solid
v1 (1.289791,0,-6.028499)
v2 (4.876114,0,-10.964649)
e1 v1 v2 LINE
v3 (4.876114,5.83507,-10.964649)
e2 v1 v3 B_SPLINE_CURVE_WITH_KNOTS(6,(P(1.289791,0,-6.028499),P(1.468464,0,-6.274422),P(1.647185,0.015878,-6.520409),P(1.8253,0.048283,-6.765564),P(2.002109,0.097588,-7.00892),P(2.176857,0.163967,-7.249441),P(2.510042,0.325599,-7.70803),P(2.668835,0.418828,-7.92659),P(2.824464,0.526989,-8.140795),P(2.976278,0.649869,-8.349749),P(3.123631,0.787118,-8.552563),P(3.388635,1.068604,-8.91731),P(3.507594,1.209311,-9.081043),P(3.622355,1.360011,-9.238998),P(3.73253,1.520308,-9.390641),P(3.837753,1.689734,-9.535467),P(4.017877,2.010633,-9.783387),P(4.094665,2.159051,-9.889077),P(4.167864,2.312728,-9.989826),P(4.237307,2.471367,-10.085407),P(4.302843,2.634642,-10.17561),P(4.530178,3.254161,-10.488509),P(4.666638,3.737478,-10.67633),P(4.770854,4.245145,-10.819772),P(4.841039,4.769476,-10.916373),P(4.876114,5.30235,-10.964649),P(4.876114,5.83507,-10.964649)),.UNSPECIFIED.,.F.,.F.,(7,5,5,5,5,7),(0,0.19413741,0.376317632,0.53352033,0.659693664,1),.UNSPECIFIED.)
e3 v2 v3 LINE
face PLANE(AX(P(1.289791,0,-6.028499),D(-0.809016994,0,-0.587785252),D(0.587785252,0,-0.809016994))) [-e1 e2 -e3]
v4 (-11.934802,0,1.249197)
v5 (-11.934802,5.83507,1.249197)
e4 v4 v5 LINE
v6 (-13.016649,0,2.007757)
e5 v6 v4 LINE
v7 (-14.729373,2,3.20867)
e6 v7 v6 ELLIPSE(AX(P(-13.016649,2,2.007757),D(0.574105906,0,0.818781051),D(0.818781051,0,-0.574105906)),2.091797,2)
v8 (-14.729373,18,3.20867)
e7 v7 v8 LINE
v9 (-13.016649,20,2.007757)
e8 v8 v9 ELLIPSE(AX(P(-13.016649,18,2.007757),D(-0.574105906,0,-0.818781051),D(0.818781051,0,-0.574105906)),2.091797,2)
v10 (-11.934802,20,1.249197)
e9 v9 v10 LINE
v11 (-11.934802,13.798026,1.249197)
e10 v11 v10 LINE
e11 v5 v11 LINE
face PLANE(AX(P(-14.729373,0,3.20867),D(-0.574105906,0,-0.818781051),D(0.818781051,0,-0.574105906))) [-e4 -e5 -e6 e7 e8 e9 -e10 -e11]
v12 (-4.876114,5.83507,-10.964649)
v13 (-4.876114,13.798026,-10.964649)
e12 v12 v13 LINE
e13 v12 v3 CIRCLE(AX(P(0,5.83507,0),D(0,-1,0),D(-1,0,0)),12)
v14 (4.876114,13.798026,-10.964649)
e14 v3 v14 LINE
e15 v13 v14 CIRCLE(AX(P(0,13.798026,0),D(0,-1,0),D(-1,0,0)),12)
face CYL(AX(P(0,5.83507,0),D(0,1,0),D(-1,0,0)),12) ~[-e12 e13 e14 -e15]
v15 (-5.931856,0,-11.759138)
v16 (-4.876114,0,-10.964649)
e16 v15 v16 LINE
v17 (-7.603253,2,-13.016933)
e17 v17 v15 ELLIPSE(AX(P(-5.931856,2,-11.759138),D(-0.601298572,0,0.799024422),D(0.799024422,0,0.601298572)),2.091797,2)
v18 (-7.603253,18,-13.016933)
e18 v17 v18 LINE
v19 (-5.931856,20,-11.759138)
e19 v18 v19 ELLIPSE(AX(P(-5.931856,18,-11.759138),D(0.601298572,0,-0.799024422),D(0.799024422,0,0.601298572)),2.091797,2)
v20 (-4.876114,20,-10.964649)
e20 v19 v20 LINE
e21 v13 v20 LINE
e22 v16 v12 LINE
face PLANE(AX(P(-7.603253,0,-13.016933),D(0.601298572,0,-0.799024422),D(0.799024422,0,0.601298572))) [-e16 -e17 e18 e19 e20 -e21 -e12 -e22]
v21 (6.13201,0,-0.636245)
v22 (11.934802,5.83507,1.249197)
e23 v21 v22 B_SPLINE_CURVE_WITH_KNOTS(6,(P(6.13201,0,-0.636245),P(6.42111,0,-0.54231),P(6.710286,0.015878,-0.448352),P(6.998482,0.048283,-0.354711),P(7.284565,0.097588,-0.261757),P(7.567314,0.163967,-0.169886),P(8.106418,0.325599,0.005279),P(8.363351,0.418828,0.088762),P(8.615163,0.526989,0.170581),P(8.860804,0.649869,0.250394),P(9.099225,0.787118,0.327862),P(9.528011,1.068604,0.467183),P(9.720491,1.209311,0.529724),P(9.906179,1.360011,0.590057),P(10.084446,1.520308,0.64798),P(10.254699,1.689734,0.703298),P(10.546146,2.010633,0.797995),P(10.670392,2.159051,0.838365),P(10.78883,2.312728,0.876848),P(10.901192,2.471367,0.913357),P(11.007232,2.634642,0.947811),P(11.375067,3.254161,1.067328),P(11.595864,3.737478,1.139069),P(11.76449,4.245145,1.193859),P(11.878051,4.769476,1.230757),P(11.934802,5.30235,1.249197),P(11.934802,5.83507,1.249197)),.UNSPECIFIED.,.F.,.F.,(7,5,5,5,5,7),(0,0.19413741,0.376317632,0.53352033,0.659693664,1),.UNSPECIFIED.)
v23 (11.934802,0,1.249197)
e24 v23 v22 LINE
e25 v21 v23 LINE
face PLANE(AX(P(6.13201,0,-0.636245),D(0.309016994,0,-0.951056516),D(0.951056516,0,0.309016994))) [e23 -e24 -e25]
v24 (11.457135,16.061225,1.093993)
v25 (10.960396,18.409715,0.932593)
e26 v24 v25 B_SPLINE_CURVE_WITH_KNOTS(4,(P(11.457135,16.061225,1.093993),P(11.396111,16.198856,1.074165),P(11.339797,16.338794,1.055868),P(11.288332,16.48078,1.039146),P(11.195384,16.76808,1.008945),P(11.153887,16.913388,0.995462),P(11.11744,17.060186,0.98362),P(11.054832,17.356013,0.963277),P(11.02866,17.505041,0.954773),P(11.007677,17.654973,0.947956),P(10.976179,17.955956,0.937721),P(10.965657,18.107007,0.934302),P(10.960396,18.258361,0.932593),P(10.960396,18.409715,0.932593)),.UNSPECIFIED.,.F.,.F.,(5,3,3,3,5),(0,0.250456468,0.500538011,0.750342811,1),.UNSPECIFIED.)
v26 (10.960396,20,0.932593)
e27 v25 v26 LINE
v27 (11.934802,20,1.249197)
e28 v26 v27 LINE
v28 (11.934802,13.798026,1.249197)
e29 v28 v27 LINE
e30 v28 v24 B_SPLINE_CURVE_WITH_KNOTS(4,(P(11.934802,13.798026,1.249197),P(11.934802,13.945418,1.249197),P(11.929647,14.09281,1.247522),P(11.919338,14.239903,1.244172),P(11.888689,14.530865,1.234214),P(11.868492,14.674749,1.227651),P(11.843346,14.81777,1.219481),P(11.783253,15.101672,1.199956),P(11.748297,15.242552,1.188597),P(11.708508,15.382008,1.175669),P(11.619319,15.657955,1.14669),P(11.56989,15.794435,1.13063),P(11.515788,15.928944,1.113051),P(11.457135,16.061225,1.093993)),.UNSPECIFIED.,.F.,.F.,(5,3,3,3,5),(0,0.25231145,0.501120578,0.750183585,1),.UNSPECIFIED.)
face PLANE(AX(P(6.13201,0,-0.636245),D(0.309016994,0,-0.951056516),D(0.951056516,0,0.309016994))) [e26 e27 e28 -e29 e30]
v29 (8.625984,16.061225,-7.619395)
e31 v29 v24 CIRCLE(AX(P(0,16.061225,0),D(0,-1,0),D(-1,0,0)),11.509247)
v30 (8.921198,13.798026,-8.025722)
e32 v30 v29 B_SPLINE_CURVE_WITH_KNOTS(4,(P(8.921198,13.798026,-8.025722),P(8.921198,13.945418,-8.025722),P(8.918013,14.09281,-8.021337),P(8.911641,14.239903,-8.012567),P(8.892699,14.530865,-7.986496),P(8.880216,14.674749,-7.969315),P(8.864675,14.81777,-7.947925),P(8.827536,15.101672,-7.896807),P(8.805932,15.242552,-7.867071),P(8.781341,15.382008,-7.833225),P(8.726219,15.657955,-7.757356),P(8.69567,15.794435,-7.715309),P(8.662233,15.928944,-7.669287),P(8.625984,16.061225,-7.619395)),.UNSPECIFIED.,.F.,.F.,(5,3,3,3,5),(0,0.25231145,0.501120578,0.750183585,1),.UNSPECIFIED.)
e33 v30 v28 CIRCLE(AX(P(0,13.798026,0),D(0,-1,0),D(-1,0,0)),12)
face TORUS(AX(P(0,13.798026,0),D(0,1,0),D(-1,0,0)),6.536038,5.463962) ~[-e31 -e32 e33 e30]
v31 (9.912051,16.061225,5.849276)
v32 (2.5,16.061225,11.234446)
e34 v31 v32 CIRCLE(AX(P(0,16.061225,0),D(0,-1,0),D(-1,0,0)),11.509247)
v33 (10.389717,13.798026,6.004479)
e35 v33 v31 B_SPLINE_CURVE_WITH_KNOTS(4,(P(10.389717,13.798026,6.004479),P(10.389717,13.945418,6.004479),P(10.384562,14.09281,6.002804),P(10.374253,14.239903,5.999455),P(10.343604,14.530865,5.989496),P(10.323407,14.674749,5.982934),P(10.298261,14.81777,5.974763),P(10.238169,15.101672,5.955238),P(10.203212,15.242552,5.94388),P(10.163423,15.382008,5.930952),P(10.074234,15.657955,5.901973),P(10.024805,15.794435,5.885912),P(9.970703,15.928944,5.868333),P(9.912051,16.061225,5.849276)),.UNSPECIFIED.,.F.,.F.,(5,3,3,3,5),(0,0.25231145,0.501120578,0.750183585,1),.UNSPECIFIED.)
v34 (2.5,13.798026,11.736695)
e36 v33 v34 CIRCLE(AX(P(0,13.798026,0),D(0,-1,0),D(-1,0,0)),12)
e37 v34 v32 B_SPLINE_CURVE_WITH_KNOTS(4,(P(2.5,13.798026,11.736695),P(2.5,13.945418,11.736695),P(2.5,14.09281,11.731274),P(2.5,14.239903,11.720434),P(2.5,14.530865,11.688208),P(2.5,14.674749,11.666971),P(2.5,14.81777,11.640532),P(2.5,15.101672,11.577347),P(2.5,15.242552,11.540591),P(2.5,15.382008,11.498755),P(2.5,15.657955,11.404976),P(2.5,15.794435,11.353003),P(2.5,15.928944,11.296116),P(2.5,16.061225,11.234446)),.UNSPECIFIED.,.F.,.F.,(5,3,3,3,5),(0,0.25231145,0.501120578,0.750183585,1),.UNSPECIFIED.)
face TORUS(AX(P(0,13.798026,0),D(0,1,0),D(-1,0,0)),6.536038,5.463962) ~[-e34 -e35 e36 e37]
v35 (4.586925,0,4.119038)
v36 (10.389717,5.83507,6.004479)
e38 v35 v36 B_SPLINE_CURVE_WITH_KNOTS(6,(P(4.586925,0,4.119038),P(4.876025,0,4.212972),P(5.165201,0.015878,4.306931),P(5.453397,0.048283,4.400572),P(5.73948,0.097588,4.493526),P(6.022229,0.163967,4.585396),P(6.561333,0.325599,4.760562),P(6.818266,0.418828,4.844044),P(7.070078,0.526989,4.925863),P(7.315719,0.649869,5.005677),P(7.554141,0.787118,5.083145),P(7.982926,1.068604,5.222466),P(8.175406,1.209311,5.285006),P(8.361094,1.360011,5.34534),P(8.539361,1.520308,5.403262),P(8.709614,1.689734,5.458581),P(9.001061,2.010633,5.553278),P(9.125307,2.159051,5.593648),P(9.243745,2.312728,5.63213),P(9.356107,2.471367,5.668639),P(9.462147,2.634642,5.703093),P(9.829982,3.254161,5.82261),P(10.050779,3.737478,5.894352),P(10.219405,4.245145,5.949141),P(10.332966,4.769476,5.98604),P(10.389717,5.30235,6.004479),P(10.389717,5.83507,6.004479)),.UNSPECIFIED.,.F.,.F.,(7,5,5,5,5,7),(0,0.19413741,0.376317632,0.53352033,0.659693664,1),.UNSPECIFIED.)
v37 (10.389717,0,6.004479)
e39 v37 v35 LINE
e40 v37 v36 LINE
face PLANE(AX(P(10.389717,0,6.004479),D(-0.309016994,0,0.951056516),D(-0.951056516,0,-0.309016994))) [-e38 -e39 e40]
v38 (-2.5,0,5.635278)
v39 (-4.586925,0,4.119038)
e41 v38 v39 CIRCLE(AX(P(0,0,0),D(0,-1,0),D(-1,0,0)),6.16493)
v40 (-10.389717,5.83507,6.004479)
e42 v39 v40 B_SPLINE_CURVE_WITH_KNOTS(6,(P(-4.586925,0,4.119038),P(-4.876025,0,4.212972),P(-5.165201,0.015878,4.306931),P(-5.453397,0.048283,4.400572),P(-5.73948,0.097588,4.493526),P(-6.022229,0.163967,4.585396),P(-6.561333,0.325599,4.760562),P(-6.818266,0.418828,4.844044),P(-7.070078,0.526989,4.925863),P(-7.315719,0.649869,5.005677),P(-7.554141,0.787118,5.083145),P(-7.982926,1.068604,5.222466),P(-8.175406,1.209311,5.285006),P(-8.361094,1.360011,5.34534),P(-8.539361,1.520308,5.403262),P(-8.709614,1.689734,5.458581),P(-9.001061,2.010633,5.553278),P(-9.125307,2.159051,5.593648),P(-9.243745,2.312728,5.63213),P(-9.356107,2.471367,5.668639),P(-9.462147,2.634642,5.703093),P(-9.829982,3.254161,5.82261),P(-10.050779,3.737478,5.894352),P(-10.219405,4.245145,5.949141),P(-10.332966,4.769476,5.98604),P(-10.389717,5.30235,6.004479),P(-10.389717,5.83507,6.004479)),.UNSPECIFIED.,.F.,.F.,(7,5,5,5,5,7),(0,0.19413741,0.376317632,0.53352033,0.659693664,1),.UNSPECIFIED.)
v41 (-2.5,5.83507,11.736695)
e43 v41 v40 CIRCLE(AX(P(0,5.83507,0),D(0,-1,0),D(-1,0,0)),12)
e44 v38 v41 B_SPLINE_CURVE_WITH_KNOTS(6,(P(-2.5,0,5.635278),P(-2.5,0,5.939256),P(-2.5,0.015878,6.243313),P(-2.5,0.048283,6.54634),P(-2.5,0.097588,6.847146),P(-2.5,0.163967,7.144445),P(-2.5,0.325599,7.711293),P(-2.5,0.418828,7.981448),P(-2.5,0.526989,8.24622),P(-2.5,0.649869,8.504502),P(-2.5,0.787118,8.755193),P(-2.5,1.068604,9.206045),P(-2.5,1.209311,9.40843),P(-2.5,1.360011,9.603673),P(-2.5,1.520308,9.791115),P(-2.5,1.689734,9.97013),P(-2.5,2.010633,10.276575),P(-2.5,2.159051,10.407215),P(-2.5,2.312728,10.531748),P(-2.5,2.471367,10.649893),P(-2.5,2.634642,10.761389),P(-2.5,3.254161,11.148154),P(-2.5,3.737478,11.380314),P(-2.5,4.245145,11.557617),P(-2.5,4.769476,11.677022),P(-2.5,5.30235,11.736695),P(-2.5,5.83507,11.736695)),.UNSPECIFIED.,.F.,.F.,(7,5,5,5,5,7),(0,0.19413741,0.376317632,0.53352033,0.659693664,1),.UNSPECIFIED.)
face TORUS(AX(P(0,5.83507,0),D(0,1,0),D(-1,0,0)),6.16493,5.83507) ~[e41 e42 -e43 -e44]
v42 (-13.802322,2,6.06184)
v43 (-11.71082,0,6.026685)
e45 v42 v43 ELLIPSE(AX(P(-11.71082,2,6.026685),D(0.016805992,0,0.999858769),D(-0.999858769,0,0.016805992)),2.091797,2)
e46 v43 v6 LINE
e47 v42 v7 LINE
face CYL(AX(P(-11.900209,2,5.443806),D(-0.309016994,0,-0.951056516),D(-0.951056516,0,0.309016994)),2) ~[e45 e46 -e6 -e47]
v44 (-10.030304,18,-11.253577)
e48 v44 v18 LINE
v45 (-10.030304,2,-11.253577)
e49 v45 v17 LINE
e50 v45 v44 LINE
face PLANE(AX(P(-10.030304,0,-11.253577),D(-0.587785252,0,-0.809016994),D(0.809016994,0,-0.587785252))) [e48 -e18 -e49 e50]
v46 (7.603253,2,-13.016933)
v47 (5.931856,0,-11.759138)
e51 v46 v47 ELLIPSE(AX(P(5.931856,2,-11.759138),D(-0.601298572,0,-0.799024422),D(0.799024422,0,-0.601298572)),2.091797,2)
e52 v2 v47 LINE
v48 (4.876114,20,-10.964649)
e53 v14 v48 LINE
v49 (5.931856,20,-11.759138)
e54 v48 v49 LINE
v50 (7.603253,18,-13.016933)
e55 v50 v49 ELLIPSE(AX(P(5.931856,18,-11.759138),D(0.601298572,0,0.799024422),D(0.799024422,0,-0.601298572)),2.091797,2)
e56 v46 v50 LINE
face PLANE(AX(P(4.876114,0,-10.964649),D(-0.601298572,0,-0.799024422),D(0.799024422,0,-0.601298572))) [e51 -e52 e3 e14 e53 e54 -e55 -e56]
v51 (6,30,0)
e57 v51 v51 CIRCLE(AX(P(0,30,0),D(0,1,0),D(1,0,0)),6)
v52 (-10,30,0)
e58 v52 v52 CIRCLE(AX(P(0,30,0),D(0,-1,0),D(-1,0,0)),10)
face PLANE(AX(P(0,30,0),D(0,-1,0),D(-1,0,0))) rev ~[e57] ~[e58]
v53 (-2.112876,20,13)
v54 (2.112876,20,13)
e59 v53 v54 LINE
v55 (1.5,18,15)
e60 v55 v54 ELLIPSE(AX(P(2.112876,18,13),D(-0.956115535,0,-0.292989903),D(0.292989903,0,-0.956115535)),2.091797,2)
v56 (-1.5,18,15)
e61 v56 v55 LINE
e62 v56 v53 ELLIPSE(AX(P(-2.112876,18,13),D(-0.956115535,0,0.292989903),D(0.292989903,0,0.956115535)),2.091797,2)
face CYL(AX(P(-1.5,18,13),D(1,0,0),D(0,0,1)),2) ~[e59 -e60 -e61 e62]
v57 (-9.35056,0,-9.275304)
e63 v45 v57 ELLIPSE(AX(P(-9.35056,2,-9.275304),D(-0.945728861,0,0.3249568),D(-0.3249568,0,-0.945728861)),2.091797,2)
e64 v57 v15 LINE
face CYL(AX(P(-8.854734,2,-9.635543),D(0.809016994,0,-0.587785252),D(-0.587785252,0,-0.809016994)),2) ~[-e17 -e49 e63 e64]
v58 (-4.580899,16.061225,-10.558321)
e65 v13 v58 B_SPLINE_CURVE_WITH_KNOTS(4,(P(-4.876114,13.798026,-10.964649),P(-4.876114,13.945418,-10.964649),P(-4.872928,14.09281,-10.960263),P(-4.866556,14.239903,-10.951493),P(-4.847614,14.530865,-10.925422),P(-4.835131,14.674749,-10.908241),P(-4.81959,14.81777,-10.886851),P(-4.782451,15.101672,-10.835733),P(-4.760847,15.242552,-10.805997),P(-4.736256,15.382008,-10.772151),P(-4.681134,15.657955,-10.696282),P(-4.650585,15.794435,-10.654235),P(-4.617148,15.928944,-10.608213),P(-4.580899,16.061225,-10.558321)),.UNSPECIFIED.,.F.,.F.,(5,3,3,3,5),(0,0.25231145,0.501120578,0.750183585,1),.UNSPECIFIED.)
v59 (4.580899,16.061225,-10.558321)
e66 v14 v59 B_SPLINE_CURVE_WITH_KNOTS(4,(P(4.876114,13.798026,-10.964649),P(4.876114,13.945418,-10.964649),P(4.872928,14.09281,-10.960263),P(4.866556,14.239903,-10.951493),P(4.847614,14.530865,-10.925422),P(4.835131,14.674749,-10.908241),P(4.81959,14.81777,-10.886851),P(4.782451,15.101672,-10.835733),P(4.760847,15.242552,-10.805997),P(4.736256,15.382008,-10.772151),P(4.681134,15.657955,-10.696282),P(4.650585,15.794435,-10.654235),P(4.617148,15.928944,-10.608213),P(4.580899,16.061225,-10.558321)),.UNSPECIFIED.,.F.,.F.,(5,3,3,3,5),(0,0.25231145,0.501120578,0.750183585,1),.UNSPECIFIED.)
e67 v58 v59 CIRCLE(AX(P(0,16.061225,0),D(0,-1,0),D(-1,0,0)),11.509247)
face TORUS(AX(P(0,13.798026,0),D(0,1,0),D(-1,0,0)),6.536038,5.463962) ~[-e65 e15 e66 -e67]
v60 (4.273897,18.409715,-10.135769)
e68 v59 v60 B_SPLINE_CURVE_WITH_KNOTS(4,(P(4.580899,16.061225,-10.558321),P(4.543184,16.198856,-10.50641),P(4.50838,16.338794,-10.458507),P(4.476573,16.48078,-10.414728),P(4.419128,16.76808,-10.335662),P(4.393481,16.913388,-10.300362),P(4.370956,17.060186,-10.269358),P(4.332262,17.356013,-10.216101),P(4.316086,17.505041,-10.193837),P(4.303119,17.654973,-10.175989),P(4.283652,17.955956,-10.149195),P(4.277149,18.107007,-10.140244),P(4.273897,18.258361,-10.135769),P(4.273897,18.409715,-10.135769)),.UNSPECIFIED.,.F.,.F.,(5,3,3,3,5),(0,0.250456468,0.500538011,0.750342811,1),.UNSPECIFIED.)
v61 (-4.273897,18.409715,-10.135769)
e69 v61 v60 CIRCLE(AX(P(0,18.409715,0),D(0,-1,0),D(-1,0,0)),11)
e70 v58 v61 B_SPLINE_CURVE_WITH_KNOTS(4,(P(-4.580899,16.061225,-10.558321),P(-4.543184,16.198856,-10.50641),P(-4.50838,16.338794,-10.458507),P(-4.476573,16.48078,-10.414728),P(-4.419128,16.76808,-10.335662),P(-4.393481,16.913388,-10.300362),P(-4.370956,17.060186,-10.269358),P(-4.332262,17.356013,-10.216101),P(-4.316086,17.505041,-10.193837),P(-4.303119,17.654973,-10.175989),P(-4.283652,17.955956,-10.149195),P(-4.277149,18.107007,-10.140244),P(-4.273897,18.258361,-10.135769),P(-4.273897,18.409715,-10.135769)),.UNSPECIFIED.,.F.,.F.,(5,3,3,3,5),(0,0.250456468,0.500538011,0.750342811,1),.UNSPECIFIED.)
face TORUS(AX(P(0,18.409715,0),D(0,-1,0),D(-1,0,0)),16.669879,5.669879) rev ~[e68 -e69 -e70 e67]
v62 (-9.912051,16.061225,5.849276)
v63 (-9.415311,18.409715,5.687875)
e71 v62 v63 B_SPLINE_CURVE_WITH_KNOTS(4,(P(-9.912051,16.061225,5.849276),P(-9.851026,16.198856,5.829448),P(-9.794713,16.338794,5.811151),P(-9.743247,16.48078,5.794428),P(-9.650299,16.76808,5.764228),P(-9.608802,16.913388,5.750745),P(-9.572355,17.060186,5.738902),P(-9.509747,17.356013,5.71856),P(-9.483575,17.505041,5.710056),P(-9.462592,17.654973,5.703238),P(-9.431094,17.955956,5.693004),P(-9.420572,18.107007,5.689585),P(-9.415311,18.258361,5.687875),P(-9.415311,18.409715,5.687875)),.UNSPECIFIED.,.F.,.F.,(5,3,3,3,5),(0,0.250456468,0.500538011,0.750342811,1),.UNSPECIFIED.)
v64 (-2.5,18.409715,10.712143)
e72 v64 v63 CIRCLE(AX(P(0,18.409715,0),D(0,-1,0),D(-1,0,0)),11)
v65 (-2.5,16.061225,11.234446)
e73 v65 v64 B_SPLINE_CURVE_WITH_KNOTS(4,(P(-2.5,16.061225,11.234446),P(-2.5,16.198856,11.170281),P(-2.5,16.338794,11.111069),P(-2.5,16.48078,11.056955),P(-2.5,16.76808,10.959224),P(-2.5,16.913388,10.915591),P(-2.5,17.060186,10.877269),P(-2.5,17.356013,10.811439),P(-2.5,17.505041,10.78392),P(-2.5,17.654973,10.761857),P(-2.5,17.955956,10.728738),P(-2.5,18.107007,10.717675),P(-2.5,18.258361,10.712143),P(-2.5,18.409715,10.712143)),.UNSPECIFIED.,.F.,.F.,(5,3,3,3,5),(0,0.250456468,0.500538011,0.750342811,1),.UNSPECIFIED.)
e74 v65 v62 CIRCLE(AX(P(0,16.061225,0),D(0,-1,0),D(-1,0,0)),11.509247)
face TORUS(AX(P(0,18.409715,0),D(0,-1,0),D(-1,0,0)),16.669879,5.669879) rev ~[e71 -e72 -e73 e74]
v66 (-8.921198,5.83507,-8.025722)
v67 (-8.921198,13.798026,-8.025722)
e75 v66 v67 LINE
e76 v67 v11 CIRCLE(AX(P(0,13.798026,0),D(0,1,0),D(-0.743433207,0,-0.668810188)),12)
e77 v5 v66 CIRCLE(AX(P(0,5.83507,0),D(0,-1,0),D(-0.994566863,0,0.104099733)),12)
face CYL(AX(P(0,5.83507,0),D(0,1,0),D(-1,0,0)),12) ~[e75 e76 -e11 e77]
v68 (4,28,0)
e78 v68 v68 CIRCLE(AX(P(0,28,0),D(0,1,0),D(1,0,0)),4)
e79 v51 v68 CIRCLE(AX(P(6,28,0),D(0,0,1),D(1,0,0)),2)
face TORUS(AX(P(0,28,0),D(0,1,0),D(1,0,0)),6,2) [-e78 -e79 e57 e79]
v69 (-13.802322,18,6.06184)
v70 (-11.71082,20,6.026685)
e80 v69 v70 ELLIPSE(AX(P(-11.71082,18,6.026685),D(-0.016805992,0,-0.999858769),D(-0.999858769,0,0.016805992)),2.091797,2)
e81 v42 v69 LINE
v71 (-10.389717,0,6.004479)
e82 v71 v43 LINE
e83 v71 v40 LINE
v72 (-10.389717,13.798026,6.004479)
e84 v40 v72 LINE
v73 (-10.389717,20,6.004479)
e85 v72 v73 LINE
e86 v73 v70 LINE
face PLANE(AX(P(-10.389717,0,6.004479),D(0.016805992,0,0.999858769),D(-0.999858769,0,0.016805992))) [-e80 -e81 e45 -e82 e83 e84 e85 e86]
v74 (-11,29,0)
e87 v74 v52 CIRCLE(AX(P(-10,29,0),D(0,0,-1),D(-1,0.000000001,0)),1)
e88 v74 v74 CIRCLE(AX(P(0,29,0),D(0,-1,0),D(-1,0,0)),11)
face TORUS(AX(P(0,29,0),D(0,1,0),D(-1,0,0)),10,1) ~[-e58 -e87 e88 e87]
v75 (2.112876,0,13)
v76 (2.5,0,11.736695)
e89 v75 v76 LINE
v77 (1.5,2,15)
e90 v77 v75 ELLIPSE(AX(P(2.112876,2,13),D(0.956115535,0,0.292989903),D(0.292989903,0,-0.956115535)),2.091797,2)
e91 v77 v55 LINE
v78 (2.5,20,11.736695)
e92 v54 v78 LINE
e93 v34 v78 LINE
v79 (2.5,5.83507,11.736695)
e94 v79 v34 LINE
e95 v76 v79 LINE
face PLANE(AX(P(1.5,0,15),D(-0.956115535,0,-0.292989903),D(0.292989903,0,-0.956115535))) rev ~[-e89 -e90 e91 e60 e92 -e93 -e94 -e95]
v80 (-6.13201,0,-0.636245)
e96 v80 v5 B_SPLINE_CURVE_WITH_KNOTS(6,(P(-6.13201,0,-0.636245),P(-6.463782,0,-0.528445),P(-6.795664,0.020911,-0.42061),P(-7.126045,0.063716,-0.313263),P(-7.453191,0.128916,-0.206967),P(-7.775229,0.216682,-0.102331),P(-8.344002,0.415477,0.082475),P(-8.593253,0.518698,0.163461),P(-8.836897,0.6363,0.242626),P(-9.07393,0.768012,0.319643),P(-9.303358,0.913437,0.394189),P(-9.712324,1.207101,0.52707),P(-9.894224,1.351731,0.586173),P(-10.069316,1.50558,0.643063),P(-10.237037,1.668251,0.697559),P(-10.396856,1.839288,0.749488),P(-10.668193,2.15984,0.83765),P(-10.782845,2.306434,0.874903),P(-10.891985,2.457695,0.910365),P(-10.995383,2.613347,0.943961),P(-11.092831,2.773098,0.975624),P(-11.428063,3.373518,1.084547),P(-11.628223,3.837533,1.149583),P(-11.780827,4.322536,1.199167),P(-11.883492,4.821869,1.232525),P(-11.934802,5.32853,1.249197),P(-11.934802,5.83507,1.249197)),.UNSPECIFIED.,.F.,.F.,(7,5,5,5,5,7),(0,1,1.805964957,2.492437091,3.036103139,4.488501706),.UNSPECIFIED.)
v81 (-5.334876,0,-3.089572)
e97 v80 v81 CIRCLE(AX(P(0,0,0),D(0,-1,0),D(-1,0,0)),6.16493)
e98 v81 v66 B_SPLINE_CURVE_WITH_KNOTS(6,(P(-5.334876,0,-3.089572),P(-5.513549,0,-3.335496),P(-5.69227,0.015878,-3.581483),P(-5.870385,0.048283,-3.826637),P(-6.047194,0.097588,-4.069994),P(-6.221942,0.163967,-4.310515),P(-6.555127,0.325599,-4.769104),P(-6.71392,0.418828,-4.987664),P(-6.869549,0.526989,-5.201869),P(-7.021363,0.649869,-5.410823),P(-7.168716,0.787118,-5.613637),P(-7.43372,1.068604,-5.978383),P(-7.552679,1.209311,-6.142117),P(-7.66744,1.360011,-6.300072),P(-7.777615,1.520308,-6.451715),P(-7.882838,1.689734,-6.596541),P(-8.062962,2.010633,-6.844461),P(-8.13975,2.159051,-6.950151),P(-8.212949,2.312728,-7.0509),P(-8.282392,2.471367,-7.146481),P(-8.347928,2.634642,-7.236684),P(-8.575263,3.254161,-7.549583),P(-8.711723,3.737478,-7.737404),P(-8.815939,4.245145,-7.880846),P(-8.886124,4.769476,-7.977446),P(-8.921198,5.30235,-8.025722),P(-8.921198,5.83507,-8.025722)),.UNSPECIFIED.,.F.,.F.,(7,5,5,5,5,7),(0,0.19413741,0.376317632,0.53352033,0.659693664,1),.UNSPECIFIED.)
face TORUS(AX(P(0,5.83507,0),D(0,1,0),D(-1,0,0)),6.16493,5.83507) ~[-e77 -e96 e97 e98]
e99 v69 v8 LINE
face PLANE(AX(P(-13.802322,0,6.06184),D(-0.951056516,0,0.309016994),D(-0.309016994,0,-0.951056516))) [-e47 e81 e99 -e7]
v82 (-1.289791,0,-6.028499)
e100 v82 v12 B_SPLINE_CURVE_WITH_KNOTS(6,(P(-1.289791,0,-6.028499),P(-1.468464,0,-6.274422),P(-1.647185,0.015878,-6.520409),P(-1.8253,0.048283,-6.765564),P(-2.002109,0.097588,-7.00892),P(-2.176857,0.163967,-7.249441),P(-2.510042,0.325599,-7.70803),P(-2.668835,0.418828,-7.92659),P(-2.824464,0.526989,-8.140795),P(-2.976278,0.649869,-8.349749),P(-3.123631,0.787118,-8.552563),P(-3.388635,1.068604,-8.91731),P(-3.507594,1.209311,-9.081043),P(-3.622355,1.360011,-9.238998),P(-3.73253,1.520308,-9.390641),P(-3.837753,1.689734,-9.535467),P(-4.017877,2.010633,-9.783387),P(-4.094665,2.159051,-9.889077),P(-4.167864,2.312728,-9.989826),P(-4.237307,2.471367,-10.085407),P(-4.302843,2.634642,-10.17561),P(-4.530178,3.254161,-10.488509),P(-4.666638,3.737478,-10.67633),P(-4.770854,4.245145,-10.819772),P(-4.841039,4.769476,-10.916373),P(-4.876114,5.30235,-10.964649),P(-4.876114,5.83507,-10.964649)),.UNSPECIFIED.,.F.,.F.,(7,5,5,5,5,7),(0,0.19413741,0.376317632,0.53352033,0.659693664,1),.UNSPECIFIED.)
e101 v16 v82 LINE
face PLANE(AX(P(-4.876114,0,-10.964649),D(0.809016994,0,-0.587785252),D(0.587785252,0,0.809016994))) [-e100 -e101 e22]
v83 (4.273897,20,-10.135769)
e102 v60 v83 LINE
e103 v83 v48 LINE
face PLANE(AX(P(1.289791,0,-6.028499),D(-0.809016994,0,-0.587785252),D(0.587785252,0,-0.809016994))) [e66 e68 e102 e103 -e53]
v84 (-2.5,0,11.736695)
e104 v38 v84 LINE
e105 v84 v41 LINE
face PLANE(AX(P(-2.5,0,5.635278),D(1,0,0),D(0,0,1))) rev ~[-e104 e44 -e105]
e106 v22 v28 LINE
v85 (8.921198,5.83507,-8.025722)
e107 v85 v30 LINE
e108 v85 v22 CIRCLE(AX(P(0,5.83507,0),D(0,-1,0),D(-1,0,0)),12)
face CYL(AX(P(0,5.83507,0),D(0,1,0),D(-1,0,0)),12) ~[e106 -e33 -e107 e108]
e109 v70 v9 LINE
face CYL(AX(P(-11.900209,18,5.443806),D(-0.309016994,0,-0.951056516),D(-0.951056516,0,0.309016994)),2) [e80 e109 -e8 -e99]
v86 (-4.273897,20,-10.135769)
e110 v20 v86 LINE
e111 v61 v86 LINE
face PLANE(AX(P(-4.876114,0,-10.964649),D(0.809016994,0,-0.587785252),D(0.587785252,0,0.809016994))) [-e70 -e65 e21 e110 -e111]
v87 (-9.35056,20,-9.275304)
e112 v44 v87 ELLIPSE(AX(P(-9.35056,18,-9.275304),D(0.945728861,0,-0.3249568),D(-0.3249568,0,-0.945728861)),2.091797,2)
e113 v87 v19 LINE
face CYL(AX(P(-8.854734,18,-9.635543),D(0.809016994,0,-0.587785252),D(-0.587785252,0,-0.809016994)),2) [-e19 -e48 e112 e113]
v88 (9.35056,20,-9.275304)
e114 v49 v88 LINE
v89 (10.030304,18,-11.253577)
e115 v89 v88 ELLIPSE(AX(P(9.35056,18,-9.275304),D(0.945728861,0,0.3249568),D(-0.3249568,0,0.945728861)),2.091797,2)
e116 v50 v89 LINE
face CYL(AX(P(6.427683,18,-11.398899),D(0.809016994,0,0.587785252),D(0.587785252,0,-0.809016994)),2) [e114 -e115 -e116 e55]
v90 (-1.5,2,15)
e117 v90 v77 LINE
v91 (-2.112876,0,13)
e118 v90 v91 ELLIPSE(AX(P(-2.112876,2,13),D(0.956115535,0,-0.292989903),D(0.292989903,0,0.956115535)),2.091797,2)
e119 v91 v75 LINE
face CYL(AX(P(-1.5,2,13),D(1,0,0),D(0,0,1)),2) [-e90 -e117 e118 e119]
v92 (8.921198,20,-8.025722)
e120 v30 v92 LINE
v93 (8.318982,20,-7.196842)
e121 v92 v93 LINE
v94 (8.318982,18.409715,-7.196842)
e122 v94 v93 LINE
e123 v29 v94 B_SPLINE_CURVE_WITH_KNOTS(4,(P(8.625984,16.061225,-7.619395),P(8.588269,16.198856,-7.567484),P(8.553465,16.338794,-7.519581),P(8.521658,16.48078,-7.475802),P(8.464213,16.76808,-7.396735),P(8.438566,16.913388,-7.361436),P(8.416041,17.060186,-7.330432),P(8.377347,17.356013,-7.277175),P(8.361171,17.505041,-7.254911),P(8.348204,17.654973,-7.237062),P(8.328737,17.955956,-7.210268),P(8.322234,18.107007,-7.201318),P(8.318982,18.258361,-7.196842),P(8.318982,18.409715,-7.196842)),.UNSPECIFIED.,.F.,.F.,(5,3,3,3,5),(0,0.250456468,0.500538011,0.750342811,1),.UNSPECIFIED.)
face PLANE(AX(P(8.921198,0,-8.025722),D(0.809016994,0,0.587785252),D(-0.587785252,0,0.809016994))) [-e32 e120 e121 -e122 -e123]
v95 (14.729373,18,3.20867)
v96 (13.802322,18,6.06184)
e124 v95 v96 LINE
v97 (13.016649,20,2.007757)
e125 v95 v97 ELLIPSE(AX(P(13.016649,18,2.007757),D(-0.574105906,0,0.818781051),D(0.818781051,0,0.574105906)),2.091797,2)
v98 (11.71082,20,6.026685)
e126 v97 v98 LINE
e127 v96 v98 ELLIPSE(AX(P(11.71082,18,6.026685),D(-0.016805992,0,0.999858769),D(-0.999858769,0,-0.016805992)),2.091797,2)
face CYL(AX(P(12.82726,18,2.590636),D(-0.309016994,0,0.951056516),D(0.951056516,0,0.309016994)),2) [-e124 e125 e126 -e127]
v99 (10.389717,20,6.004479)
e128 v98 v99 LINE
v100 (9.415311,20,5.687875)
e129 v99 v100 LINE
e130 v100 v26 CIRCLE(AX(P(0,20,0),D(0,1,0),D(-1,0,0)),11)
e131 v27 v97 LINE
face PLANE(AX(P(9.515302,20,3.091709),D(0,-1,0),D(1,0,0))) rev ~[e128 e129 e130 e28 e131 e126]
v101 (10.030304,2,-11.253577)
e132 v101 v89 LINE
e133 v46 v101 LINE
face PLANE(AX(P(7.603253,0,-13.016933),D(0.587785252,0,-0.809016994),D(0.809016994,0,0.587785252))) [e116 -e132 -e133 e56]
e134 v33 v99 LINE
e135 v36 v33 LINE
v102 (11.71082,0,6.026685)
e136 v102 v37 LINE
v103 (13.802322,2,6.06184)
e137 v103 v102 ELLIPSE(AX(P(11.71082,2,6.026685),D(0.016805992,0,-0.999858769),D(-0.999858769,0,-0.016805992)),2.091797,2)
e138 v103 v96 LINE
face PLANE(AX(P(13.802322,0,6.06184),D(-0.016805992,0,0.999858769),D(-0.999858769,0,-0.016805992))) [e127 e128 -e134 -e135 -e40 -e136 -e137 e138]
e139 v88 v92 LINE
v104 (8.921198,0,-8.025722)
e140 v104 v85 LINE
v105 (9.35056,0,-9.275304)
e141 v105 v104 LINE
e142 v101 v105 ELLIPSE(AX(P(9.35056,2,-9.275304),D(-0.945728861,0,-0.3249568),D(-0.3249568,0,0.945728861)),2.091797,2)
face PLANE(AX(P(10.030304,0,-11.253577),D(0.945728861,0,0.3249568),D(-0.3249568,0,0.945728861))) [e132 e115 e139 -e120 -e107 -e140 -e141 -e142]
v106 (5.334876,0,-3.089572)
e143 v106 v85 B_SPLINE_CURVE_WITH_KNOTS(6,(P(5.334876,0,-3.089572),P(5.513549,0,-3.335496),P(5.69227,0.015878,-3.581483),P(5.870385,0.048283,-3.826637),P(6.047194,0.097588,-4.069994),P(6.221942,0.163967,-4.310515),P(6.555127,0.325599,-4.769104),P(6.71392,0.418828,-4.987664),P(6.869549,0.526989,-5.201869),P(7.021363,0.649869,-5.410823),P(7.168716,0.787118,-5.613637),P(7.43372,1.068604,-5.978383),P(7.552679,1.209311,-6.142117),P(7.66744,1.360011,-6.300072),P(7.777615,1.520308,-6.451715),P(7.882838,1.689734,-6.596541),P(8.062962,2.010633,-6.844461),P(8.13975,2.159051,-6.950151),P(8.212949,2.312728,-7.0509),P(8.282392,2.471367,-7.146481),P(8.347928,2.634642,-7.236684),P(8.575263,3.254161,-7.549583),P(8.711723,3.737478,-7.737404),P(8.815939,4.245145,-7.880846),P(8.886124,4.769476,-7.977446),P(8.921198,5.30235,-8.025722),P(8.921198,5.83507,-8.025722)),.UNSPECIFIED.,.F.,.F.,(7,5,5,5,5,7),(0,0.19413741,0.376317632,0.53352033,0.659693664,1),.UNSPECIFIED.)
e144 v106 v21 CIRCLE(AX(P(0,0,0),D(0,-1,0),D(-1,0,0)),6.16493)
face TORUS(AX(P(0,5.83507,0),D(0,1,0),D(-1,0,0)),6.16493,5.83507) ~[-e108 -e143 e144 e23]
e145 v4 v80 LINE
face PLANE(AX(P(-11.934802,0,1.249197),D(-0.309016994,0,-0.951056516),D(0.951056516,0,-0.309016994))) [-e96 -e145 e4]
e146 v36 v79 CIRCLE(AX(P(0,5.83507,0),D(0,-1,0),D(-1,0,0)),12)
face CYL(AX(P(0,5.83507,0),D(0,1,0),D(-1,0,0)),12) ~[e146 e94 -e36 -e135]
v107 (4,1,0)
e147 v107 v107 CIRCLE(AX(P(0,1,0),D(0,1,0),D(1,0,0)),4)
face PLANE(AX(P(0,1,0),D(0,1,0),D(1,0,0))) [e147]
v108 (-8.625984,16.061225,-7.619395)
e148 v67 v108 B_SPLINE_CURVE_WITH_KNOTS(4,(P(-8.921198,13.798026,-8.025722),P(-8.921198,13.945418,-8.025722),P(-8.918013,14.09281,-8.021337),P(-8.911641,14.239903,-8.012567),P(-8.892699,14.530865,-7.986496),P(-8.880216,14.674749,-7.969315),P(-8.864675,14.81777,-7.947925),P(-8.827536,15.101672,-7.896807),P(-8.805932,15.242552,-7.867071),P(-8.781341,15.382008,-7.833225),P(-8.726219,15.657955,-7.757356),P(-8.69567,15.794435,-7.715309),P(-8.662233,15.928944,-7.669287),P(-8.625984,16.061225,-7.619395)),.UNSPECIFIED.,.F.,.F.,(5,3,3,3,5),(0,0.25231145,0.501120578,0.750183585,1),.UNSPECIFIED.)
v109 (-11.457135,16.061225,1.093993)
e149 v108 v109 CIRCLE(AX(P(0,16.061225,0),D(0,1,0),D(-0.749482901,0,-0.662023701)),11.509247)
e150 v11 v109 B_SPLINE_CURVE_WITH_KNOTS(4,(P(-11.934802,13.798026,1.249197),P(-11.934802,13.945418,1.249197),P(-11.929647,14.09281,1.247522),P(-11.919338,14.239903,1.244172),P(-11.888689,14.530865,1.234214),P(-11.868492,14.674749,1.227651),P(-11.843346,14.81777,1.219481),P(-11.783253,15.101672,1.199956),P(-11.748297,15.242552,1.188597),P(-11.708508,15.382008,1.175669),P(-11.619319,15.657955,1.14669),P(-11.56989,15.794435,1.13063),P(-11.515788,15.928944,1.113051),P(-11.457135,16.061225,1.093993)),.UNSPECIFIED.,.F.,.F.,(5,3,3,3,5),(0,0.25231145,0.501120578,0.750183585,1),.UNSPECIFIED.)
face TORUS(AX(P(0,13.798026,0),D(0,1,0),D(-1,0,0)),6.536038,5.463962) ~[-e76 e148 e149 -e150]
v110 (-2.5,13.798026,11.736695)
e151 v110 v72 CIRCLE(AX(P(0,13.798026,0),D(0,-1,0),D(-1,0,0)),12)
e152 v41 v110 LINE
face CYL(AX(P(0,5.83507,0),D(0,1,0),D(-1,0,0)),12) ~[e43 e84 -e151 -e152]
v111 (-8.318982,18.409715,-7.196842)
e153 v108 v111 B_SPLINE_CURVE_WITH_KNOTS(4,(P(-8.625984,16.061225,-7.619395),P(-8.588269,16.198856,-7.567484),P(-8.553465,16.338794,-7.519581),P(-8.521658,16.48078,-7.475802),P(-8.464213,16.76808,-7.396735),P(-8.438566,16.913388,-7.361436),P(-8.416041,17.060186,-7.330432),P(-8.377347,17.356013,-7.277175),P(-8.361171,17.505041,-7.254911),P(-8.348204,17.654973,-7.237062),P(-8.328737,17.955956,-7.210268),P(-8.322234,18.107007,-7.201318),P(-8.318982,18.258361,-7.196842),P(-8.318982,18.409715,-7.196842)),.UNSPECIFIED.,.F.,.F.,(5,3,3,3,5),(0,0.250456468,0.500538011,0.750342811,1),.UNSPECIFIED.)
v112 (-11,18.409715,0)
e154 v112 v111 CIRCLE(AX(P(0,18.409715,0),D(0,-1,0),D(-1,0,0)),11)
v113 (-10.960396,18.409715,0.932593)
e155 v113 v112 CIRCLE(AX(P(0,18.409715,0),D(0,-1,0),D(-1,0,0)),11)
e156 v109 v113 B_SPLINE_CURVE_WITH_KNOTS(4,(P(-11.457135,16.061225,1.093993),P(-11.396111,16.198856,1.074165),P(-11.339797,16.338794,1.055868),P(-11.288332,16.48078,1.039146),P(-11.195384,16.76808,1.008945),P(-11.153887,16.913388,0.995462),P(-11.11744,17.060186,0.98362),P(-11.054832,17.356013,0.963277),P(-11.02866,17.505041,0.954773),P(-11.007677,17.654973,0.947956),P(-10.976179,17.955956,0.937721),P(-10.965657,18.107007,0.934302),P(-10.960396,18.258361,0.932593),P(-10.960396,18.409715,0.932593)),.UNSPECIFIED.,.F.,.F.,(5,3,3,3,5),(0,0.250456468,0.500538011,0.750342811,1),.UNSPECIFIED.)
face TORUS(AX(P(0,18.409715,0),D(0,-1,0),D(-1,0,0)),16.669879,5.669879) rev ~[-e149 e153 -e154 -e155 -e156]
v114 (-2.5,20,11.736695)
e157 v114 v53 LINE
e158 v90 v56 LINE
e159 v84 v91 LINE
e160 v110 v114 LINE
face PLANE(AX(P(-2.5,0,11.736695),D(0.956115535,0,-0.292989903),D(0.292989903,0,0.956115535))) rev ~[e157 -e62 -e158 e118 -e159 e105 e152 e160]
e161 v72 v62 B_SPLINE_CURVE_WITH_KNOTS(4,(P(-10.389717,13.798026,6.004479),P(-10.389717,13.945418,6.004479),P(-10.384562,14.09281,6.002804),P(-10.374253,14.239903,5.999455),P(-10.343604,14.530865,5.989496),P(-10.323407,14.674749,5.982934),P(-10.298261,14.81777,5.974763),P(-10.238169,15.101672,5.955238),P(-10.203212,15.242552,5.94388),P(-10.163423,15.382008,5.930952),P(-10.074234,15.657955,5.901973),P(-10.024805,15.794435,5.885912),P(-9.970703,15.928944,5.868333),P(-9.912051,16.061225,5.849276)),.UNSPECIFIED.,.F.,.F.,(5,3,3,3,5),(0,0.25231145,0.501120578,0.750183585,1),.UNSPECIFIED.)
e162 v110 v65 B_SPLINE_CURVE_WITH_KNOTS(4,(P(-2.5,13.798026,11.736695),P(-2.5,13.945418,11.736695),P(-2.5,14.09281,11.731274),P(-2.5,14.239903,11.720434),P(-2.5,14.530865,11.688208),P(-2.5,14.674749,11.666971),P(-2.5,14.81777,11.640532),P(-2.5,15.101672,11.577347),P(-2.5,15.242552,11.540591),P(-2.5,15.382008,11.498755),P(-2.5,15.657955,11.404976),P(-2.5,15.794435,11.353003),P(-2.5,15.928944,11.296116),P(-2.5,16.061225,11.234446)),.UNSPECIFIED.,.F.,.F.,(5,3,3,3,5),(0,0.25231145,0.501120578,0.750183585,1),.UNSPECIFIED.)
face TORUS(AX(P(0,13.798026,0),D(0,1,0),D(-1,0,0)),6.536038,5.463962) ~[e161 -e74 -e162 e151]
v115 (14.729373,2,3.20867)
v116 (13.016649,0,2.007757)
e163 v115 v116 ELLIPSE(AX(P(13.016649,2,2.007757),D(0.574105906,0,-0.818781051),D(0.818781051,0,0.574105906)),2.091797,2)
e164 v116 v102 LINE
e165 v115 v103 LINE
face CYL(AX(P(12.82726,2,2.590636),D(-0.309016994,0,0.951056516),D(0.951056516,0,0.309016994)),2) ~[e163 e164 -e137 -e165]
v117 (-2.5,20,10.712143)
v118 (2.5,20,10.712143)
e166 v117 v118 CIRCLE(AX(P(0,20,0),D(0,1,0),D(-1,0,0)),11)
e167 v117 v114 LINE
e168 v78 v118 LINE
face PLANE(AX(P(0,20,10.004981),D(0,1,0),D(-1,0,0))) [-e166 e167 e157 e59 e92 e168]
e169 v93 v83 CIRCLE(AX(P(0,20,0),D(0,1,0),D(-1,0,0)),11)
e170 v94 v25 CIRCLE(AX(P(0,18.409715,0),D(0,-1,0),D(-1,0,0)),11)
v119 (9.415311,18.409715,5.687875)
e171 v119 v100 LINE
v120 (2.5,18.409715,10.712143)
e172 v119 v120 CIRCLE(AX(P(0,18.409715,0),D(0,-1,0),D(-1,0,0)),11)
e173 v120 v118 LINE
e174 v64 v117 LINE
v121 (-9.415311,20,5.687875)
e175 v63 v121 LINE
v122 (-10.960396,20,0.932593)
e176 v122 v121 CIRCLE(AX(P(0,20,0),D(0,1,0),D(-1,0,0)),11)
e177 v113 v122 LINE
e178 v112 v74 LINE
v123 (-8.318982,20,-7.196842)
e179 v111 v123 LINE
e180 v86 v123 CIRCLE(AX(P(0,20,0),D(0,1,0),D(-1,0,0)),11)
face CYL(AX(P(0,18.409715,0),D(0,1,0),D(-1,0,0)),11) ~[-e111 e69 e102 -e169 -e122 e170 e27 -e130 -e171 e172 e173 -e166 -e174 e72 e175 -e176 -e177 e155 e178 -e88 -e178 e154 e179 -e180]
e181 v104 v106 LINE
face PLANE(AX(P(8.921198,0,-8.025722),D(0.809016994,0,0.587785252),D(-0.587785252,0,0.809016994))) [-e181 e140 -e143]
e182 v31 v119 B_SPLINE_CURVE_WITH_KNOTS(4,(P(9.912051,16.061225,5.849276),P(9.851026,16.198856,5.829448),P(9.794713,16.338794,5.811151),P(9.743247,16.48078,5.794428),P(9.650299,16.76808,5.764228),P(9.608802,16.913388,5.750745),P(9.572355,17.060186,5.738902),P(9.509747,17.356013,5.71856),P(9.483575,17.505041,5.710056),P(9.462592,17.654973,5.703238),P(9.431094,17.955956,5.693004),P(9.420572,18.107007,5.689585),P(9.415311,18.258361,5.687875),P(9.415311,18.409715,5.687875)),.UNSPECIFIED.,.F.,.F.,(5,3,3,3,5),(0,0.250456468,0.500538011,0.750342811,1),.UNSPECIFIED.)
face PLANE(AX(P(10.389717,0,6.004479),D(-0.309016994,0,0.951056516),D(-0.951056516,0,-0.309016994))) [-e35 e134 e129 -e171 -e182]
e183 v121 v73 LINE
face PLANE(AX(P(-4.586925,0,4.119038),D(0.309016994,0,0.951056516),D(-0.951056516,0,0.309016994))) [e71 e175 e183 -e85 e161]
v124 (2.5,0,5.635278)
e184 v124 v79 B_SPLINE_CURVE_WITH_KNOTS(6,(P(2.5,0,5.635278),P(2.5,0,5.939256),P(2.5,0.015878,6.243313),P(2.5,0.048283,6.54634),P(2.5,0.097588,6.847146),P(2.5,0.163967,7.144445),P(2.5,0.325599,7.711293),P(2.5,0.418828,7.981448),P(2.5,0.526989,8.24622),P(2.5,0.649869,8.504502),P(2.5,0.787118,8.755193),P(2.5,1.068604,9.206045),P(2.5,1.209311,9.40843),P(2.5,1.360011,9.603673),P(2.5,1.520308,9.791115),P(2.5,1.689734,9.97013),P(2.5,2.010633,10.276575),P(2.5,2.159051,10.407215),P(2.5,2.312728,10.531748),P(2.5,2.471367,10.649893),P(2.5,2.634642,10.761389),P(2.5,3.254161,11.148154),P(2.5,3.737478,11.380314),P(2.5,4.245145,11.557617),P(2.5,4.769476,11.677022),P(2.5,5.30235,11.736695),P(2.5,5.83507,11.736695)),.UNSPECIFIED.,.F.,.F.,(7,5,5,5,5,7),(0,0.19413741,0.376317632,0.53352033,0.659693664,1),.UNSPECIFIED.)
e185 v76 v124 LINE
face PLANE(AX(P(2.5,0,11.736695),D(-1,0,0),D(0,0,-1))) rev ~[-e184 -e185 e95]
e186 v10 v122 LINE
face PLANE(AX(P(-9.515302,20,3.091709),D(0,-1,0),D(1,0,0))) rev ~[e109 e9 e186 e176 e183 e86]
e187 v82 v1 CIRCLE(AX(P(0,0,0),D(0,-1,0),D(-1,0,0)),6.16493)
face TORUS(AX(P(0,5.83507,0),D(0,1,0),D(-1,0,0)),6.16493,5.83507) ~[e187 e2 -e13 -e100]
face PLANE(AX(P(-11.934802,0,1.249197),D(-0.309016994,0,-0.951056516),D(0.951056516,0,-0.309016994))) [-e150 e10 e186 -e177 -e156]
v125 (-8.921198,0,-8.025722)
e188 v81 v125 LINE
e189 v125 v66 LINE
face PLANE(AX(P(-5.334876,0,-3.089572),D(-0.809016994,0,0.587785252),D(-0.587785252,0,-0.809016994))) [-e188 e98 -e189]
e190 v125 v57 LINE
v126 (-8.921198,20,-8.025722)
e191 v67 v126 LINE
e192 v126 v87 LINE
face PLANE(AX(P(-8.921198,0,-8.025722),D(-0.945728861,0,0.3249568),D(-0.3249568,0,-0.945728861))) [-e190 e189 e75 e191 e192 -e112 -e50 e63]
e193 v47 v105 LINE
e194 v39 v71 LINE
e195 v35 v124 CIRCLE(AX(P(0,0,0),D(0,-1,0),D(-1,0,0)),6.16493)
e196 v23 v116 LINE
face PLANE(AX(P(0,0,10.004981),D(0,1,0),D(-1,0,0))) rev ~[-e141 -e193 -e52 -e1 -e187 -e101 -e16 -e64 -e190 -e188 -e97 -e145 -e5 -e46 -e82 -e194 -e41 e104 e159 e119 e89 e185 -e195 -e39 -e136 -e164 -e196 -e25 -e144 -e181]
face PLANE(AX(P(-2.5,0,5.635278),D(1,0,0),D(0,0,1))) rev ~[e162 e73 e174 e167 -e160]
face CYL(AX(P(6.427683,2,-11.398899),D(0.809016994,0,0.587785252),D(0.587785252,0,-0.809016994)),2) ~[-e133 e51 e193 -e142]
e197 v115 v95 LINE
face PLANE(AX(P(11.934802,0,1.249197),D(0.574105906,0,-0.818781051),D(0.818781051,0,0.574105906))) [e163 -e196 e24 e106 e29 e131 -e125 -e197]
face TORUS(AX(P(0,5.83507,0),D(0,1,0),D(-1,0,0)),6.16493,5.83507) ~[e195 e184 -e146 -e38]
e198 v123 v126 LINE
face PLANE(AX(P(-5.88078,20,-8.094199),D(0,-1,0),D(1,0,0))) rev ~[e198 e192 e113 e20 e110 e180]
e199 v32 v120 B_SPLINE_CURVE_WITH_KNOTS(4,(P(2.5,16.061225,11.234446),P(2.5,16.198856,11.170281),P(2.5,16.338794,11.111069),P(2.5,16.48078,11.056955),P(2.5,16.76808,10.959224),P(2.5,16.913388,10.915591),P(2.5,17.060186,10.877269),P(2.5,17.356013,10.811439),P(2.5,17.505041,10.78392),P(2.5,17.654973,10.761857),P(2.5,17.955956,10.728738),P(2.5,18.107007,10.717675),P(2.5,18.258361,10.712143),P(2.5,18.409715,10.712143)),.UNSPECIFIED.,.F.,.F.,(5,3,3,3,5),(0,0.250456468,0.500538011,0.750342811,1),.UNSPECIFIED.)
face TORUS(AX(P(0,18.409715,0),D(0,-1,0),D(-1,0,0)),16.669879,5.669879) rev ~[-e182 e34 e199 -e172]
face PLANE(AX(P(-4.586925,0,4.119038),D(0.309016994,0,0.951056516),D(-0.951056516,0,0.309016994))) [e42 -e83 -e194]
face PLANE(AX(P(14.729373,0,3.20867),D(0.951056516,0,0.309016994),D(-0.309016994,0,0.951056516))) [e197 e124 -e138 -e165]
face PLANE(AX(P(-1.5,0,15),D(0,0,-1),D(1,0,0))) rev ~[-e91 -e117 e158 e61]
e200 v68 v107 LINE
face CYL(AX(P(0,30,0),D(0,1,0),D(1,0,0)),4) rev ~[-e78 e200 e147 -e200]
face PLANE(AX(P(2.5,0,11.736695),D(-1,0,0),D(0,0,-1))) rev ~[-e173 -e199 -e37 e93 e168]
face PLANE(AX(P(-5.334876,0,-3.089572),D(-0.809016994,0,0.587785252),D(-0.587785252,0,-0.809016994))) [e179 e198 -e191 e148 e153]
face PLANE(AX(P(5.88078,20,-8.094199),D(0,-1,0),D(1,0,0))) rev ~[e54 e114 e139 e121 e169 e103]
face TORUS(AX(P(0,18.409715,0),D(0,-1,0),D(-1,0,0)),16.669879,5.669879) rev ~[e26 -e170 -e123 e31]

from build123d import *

# Parameters (mm, degrees)
SKETCH3_R           = 4
CUT_EXTRUDE2_DEPTH  = 29
FILLET2_R           = 2
BOSS_EXTRUDE1_DEPTH = 20
FILLET3_R           = 2


with BuildPart() as part:
    # Sketch1 → Revolve1 (revolve)
    with BuildSketch(Plane.XY):
        with BuildLine():
            Line((0, 30), (0, 0))
            Line((0, 0), (-6.164929537, 0))
            ThreePointArc((-6.164929537, 0), (-10.29094743, 1.70905257), (-12, 5.835070463))
            Line((-12, 5.835070463), (-12, 13.798025689))
            ThreePointArc((-12, 13.798025689), (-11.875902596, 14.955923247), (-11.50924738, 16.061224505))
            ThreePointArc((-11.50924738, 16.061224505), (-11.128774204, 17.208180724), (-11, 18.409715414))
            Line((-11, 18.409715414), (-11, 29))
            ThreePointArc((-11, 29), (-10.707106781, 29.707106781), (-10, 30))
            Line((-10, 30), (0, 30))
        make_face()
    revolve(axis=Axis((0, 30, 0), (0, -1, 0)))

    # Sketch3 → Cut-Extrude2 (cut)
    with BuildSketch(Plane(origin=(0, 30, 0), x_dir=(1, 0, 0), z_dir=(0, 1, 0))):
        Circle(SKETCH3_R)
    extrude(amount=-CUT_EXTRUDE2_DEPTH, mode=Mode.SUBTRACT)

    # Fillet2
    fillet2_edges = [part.edges().sort_by_distance(p)[0] for p in [
        (-4, 30, 0),
    ]]
    fillet(fillet2_edges, radius=FILLET2_R)

    # Sketch2 → Boss-Extrude1 (add)
    with BuildSketch(Plane.XZ):
        Polygon((-1.5, 15), (1.5, 15), (2.5, 11.736694594), (2.5, 5.635277828), (-2.5, 5.635277828), (-2.5, 11.736694594), align=None)
        Polygon((10.389717388, 6.004479378), (4.586925213, 4.119037908), (6.132010185, -0.636244674), (11.93480236, 1.249196797), (14.729373236, 3.208670141), (13.802322253, 6.06183969), align=None)
        Polygon((8.921198479, -8.025722254), (5.334875686, -3.0895724), (1.289790714, -6.028498661), (4.876113507, -10.964648515), (7.603253293, -13.016932794), (10.030304276, -11.253577037), align=None)
        Polygon((-4.876113507, -10.964648515), (-1.289790714, -6.028498661), (-5.334875686, -3.0895724), (-8.921198479, -8.025722254), (-10.030304276, -11.253577037), (-7.603253293, -13.016932794), align=None)
        Polygon((-11.93480236, 1.249196797), (-6.132010185, -0.636244674), (-4.586925213, 4.119037908), (-10.389717388, 6.004479378), (-13.802322253, 6.06183969), (-14.729373236, 3.208670141), align=None)
    extrude(amount=-BOSS_EXTRUDE1_DEPTH)

    # Fillet3
    fillet3_edges = [part.edges().sort_by_distance(p)[0] for p in [
        (-8.816778784, 20, -12.135254916),
        (-8.816778784, 0, -12.135254916),
        (-14.265847744, 20, 4.635254916),
        (-14.265847744, 0, 4.635254916),
        (0, 20, 15),
        (0, 0, 15),
        (14.265847744, 20, 4.635254916),
        (14.265847744, 0, 4.635254916),
        (8.816778784, 20, -12.135254916),
        (8.816778784, 0, -12.135254916),
    ]]
    fillet(fillet3_edges, radius=FILLET3_R)


solid = part.part
